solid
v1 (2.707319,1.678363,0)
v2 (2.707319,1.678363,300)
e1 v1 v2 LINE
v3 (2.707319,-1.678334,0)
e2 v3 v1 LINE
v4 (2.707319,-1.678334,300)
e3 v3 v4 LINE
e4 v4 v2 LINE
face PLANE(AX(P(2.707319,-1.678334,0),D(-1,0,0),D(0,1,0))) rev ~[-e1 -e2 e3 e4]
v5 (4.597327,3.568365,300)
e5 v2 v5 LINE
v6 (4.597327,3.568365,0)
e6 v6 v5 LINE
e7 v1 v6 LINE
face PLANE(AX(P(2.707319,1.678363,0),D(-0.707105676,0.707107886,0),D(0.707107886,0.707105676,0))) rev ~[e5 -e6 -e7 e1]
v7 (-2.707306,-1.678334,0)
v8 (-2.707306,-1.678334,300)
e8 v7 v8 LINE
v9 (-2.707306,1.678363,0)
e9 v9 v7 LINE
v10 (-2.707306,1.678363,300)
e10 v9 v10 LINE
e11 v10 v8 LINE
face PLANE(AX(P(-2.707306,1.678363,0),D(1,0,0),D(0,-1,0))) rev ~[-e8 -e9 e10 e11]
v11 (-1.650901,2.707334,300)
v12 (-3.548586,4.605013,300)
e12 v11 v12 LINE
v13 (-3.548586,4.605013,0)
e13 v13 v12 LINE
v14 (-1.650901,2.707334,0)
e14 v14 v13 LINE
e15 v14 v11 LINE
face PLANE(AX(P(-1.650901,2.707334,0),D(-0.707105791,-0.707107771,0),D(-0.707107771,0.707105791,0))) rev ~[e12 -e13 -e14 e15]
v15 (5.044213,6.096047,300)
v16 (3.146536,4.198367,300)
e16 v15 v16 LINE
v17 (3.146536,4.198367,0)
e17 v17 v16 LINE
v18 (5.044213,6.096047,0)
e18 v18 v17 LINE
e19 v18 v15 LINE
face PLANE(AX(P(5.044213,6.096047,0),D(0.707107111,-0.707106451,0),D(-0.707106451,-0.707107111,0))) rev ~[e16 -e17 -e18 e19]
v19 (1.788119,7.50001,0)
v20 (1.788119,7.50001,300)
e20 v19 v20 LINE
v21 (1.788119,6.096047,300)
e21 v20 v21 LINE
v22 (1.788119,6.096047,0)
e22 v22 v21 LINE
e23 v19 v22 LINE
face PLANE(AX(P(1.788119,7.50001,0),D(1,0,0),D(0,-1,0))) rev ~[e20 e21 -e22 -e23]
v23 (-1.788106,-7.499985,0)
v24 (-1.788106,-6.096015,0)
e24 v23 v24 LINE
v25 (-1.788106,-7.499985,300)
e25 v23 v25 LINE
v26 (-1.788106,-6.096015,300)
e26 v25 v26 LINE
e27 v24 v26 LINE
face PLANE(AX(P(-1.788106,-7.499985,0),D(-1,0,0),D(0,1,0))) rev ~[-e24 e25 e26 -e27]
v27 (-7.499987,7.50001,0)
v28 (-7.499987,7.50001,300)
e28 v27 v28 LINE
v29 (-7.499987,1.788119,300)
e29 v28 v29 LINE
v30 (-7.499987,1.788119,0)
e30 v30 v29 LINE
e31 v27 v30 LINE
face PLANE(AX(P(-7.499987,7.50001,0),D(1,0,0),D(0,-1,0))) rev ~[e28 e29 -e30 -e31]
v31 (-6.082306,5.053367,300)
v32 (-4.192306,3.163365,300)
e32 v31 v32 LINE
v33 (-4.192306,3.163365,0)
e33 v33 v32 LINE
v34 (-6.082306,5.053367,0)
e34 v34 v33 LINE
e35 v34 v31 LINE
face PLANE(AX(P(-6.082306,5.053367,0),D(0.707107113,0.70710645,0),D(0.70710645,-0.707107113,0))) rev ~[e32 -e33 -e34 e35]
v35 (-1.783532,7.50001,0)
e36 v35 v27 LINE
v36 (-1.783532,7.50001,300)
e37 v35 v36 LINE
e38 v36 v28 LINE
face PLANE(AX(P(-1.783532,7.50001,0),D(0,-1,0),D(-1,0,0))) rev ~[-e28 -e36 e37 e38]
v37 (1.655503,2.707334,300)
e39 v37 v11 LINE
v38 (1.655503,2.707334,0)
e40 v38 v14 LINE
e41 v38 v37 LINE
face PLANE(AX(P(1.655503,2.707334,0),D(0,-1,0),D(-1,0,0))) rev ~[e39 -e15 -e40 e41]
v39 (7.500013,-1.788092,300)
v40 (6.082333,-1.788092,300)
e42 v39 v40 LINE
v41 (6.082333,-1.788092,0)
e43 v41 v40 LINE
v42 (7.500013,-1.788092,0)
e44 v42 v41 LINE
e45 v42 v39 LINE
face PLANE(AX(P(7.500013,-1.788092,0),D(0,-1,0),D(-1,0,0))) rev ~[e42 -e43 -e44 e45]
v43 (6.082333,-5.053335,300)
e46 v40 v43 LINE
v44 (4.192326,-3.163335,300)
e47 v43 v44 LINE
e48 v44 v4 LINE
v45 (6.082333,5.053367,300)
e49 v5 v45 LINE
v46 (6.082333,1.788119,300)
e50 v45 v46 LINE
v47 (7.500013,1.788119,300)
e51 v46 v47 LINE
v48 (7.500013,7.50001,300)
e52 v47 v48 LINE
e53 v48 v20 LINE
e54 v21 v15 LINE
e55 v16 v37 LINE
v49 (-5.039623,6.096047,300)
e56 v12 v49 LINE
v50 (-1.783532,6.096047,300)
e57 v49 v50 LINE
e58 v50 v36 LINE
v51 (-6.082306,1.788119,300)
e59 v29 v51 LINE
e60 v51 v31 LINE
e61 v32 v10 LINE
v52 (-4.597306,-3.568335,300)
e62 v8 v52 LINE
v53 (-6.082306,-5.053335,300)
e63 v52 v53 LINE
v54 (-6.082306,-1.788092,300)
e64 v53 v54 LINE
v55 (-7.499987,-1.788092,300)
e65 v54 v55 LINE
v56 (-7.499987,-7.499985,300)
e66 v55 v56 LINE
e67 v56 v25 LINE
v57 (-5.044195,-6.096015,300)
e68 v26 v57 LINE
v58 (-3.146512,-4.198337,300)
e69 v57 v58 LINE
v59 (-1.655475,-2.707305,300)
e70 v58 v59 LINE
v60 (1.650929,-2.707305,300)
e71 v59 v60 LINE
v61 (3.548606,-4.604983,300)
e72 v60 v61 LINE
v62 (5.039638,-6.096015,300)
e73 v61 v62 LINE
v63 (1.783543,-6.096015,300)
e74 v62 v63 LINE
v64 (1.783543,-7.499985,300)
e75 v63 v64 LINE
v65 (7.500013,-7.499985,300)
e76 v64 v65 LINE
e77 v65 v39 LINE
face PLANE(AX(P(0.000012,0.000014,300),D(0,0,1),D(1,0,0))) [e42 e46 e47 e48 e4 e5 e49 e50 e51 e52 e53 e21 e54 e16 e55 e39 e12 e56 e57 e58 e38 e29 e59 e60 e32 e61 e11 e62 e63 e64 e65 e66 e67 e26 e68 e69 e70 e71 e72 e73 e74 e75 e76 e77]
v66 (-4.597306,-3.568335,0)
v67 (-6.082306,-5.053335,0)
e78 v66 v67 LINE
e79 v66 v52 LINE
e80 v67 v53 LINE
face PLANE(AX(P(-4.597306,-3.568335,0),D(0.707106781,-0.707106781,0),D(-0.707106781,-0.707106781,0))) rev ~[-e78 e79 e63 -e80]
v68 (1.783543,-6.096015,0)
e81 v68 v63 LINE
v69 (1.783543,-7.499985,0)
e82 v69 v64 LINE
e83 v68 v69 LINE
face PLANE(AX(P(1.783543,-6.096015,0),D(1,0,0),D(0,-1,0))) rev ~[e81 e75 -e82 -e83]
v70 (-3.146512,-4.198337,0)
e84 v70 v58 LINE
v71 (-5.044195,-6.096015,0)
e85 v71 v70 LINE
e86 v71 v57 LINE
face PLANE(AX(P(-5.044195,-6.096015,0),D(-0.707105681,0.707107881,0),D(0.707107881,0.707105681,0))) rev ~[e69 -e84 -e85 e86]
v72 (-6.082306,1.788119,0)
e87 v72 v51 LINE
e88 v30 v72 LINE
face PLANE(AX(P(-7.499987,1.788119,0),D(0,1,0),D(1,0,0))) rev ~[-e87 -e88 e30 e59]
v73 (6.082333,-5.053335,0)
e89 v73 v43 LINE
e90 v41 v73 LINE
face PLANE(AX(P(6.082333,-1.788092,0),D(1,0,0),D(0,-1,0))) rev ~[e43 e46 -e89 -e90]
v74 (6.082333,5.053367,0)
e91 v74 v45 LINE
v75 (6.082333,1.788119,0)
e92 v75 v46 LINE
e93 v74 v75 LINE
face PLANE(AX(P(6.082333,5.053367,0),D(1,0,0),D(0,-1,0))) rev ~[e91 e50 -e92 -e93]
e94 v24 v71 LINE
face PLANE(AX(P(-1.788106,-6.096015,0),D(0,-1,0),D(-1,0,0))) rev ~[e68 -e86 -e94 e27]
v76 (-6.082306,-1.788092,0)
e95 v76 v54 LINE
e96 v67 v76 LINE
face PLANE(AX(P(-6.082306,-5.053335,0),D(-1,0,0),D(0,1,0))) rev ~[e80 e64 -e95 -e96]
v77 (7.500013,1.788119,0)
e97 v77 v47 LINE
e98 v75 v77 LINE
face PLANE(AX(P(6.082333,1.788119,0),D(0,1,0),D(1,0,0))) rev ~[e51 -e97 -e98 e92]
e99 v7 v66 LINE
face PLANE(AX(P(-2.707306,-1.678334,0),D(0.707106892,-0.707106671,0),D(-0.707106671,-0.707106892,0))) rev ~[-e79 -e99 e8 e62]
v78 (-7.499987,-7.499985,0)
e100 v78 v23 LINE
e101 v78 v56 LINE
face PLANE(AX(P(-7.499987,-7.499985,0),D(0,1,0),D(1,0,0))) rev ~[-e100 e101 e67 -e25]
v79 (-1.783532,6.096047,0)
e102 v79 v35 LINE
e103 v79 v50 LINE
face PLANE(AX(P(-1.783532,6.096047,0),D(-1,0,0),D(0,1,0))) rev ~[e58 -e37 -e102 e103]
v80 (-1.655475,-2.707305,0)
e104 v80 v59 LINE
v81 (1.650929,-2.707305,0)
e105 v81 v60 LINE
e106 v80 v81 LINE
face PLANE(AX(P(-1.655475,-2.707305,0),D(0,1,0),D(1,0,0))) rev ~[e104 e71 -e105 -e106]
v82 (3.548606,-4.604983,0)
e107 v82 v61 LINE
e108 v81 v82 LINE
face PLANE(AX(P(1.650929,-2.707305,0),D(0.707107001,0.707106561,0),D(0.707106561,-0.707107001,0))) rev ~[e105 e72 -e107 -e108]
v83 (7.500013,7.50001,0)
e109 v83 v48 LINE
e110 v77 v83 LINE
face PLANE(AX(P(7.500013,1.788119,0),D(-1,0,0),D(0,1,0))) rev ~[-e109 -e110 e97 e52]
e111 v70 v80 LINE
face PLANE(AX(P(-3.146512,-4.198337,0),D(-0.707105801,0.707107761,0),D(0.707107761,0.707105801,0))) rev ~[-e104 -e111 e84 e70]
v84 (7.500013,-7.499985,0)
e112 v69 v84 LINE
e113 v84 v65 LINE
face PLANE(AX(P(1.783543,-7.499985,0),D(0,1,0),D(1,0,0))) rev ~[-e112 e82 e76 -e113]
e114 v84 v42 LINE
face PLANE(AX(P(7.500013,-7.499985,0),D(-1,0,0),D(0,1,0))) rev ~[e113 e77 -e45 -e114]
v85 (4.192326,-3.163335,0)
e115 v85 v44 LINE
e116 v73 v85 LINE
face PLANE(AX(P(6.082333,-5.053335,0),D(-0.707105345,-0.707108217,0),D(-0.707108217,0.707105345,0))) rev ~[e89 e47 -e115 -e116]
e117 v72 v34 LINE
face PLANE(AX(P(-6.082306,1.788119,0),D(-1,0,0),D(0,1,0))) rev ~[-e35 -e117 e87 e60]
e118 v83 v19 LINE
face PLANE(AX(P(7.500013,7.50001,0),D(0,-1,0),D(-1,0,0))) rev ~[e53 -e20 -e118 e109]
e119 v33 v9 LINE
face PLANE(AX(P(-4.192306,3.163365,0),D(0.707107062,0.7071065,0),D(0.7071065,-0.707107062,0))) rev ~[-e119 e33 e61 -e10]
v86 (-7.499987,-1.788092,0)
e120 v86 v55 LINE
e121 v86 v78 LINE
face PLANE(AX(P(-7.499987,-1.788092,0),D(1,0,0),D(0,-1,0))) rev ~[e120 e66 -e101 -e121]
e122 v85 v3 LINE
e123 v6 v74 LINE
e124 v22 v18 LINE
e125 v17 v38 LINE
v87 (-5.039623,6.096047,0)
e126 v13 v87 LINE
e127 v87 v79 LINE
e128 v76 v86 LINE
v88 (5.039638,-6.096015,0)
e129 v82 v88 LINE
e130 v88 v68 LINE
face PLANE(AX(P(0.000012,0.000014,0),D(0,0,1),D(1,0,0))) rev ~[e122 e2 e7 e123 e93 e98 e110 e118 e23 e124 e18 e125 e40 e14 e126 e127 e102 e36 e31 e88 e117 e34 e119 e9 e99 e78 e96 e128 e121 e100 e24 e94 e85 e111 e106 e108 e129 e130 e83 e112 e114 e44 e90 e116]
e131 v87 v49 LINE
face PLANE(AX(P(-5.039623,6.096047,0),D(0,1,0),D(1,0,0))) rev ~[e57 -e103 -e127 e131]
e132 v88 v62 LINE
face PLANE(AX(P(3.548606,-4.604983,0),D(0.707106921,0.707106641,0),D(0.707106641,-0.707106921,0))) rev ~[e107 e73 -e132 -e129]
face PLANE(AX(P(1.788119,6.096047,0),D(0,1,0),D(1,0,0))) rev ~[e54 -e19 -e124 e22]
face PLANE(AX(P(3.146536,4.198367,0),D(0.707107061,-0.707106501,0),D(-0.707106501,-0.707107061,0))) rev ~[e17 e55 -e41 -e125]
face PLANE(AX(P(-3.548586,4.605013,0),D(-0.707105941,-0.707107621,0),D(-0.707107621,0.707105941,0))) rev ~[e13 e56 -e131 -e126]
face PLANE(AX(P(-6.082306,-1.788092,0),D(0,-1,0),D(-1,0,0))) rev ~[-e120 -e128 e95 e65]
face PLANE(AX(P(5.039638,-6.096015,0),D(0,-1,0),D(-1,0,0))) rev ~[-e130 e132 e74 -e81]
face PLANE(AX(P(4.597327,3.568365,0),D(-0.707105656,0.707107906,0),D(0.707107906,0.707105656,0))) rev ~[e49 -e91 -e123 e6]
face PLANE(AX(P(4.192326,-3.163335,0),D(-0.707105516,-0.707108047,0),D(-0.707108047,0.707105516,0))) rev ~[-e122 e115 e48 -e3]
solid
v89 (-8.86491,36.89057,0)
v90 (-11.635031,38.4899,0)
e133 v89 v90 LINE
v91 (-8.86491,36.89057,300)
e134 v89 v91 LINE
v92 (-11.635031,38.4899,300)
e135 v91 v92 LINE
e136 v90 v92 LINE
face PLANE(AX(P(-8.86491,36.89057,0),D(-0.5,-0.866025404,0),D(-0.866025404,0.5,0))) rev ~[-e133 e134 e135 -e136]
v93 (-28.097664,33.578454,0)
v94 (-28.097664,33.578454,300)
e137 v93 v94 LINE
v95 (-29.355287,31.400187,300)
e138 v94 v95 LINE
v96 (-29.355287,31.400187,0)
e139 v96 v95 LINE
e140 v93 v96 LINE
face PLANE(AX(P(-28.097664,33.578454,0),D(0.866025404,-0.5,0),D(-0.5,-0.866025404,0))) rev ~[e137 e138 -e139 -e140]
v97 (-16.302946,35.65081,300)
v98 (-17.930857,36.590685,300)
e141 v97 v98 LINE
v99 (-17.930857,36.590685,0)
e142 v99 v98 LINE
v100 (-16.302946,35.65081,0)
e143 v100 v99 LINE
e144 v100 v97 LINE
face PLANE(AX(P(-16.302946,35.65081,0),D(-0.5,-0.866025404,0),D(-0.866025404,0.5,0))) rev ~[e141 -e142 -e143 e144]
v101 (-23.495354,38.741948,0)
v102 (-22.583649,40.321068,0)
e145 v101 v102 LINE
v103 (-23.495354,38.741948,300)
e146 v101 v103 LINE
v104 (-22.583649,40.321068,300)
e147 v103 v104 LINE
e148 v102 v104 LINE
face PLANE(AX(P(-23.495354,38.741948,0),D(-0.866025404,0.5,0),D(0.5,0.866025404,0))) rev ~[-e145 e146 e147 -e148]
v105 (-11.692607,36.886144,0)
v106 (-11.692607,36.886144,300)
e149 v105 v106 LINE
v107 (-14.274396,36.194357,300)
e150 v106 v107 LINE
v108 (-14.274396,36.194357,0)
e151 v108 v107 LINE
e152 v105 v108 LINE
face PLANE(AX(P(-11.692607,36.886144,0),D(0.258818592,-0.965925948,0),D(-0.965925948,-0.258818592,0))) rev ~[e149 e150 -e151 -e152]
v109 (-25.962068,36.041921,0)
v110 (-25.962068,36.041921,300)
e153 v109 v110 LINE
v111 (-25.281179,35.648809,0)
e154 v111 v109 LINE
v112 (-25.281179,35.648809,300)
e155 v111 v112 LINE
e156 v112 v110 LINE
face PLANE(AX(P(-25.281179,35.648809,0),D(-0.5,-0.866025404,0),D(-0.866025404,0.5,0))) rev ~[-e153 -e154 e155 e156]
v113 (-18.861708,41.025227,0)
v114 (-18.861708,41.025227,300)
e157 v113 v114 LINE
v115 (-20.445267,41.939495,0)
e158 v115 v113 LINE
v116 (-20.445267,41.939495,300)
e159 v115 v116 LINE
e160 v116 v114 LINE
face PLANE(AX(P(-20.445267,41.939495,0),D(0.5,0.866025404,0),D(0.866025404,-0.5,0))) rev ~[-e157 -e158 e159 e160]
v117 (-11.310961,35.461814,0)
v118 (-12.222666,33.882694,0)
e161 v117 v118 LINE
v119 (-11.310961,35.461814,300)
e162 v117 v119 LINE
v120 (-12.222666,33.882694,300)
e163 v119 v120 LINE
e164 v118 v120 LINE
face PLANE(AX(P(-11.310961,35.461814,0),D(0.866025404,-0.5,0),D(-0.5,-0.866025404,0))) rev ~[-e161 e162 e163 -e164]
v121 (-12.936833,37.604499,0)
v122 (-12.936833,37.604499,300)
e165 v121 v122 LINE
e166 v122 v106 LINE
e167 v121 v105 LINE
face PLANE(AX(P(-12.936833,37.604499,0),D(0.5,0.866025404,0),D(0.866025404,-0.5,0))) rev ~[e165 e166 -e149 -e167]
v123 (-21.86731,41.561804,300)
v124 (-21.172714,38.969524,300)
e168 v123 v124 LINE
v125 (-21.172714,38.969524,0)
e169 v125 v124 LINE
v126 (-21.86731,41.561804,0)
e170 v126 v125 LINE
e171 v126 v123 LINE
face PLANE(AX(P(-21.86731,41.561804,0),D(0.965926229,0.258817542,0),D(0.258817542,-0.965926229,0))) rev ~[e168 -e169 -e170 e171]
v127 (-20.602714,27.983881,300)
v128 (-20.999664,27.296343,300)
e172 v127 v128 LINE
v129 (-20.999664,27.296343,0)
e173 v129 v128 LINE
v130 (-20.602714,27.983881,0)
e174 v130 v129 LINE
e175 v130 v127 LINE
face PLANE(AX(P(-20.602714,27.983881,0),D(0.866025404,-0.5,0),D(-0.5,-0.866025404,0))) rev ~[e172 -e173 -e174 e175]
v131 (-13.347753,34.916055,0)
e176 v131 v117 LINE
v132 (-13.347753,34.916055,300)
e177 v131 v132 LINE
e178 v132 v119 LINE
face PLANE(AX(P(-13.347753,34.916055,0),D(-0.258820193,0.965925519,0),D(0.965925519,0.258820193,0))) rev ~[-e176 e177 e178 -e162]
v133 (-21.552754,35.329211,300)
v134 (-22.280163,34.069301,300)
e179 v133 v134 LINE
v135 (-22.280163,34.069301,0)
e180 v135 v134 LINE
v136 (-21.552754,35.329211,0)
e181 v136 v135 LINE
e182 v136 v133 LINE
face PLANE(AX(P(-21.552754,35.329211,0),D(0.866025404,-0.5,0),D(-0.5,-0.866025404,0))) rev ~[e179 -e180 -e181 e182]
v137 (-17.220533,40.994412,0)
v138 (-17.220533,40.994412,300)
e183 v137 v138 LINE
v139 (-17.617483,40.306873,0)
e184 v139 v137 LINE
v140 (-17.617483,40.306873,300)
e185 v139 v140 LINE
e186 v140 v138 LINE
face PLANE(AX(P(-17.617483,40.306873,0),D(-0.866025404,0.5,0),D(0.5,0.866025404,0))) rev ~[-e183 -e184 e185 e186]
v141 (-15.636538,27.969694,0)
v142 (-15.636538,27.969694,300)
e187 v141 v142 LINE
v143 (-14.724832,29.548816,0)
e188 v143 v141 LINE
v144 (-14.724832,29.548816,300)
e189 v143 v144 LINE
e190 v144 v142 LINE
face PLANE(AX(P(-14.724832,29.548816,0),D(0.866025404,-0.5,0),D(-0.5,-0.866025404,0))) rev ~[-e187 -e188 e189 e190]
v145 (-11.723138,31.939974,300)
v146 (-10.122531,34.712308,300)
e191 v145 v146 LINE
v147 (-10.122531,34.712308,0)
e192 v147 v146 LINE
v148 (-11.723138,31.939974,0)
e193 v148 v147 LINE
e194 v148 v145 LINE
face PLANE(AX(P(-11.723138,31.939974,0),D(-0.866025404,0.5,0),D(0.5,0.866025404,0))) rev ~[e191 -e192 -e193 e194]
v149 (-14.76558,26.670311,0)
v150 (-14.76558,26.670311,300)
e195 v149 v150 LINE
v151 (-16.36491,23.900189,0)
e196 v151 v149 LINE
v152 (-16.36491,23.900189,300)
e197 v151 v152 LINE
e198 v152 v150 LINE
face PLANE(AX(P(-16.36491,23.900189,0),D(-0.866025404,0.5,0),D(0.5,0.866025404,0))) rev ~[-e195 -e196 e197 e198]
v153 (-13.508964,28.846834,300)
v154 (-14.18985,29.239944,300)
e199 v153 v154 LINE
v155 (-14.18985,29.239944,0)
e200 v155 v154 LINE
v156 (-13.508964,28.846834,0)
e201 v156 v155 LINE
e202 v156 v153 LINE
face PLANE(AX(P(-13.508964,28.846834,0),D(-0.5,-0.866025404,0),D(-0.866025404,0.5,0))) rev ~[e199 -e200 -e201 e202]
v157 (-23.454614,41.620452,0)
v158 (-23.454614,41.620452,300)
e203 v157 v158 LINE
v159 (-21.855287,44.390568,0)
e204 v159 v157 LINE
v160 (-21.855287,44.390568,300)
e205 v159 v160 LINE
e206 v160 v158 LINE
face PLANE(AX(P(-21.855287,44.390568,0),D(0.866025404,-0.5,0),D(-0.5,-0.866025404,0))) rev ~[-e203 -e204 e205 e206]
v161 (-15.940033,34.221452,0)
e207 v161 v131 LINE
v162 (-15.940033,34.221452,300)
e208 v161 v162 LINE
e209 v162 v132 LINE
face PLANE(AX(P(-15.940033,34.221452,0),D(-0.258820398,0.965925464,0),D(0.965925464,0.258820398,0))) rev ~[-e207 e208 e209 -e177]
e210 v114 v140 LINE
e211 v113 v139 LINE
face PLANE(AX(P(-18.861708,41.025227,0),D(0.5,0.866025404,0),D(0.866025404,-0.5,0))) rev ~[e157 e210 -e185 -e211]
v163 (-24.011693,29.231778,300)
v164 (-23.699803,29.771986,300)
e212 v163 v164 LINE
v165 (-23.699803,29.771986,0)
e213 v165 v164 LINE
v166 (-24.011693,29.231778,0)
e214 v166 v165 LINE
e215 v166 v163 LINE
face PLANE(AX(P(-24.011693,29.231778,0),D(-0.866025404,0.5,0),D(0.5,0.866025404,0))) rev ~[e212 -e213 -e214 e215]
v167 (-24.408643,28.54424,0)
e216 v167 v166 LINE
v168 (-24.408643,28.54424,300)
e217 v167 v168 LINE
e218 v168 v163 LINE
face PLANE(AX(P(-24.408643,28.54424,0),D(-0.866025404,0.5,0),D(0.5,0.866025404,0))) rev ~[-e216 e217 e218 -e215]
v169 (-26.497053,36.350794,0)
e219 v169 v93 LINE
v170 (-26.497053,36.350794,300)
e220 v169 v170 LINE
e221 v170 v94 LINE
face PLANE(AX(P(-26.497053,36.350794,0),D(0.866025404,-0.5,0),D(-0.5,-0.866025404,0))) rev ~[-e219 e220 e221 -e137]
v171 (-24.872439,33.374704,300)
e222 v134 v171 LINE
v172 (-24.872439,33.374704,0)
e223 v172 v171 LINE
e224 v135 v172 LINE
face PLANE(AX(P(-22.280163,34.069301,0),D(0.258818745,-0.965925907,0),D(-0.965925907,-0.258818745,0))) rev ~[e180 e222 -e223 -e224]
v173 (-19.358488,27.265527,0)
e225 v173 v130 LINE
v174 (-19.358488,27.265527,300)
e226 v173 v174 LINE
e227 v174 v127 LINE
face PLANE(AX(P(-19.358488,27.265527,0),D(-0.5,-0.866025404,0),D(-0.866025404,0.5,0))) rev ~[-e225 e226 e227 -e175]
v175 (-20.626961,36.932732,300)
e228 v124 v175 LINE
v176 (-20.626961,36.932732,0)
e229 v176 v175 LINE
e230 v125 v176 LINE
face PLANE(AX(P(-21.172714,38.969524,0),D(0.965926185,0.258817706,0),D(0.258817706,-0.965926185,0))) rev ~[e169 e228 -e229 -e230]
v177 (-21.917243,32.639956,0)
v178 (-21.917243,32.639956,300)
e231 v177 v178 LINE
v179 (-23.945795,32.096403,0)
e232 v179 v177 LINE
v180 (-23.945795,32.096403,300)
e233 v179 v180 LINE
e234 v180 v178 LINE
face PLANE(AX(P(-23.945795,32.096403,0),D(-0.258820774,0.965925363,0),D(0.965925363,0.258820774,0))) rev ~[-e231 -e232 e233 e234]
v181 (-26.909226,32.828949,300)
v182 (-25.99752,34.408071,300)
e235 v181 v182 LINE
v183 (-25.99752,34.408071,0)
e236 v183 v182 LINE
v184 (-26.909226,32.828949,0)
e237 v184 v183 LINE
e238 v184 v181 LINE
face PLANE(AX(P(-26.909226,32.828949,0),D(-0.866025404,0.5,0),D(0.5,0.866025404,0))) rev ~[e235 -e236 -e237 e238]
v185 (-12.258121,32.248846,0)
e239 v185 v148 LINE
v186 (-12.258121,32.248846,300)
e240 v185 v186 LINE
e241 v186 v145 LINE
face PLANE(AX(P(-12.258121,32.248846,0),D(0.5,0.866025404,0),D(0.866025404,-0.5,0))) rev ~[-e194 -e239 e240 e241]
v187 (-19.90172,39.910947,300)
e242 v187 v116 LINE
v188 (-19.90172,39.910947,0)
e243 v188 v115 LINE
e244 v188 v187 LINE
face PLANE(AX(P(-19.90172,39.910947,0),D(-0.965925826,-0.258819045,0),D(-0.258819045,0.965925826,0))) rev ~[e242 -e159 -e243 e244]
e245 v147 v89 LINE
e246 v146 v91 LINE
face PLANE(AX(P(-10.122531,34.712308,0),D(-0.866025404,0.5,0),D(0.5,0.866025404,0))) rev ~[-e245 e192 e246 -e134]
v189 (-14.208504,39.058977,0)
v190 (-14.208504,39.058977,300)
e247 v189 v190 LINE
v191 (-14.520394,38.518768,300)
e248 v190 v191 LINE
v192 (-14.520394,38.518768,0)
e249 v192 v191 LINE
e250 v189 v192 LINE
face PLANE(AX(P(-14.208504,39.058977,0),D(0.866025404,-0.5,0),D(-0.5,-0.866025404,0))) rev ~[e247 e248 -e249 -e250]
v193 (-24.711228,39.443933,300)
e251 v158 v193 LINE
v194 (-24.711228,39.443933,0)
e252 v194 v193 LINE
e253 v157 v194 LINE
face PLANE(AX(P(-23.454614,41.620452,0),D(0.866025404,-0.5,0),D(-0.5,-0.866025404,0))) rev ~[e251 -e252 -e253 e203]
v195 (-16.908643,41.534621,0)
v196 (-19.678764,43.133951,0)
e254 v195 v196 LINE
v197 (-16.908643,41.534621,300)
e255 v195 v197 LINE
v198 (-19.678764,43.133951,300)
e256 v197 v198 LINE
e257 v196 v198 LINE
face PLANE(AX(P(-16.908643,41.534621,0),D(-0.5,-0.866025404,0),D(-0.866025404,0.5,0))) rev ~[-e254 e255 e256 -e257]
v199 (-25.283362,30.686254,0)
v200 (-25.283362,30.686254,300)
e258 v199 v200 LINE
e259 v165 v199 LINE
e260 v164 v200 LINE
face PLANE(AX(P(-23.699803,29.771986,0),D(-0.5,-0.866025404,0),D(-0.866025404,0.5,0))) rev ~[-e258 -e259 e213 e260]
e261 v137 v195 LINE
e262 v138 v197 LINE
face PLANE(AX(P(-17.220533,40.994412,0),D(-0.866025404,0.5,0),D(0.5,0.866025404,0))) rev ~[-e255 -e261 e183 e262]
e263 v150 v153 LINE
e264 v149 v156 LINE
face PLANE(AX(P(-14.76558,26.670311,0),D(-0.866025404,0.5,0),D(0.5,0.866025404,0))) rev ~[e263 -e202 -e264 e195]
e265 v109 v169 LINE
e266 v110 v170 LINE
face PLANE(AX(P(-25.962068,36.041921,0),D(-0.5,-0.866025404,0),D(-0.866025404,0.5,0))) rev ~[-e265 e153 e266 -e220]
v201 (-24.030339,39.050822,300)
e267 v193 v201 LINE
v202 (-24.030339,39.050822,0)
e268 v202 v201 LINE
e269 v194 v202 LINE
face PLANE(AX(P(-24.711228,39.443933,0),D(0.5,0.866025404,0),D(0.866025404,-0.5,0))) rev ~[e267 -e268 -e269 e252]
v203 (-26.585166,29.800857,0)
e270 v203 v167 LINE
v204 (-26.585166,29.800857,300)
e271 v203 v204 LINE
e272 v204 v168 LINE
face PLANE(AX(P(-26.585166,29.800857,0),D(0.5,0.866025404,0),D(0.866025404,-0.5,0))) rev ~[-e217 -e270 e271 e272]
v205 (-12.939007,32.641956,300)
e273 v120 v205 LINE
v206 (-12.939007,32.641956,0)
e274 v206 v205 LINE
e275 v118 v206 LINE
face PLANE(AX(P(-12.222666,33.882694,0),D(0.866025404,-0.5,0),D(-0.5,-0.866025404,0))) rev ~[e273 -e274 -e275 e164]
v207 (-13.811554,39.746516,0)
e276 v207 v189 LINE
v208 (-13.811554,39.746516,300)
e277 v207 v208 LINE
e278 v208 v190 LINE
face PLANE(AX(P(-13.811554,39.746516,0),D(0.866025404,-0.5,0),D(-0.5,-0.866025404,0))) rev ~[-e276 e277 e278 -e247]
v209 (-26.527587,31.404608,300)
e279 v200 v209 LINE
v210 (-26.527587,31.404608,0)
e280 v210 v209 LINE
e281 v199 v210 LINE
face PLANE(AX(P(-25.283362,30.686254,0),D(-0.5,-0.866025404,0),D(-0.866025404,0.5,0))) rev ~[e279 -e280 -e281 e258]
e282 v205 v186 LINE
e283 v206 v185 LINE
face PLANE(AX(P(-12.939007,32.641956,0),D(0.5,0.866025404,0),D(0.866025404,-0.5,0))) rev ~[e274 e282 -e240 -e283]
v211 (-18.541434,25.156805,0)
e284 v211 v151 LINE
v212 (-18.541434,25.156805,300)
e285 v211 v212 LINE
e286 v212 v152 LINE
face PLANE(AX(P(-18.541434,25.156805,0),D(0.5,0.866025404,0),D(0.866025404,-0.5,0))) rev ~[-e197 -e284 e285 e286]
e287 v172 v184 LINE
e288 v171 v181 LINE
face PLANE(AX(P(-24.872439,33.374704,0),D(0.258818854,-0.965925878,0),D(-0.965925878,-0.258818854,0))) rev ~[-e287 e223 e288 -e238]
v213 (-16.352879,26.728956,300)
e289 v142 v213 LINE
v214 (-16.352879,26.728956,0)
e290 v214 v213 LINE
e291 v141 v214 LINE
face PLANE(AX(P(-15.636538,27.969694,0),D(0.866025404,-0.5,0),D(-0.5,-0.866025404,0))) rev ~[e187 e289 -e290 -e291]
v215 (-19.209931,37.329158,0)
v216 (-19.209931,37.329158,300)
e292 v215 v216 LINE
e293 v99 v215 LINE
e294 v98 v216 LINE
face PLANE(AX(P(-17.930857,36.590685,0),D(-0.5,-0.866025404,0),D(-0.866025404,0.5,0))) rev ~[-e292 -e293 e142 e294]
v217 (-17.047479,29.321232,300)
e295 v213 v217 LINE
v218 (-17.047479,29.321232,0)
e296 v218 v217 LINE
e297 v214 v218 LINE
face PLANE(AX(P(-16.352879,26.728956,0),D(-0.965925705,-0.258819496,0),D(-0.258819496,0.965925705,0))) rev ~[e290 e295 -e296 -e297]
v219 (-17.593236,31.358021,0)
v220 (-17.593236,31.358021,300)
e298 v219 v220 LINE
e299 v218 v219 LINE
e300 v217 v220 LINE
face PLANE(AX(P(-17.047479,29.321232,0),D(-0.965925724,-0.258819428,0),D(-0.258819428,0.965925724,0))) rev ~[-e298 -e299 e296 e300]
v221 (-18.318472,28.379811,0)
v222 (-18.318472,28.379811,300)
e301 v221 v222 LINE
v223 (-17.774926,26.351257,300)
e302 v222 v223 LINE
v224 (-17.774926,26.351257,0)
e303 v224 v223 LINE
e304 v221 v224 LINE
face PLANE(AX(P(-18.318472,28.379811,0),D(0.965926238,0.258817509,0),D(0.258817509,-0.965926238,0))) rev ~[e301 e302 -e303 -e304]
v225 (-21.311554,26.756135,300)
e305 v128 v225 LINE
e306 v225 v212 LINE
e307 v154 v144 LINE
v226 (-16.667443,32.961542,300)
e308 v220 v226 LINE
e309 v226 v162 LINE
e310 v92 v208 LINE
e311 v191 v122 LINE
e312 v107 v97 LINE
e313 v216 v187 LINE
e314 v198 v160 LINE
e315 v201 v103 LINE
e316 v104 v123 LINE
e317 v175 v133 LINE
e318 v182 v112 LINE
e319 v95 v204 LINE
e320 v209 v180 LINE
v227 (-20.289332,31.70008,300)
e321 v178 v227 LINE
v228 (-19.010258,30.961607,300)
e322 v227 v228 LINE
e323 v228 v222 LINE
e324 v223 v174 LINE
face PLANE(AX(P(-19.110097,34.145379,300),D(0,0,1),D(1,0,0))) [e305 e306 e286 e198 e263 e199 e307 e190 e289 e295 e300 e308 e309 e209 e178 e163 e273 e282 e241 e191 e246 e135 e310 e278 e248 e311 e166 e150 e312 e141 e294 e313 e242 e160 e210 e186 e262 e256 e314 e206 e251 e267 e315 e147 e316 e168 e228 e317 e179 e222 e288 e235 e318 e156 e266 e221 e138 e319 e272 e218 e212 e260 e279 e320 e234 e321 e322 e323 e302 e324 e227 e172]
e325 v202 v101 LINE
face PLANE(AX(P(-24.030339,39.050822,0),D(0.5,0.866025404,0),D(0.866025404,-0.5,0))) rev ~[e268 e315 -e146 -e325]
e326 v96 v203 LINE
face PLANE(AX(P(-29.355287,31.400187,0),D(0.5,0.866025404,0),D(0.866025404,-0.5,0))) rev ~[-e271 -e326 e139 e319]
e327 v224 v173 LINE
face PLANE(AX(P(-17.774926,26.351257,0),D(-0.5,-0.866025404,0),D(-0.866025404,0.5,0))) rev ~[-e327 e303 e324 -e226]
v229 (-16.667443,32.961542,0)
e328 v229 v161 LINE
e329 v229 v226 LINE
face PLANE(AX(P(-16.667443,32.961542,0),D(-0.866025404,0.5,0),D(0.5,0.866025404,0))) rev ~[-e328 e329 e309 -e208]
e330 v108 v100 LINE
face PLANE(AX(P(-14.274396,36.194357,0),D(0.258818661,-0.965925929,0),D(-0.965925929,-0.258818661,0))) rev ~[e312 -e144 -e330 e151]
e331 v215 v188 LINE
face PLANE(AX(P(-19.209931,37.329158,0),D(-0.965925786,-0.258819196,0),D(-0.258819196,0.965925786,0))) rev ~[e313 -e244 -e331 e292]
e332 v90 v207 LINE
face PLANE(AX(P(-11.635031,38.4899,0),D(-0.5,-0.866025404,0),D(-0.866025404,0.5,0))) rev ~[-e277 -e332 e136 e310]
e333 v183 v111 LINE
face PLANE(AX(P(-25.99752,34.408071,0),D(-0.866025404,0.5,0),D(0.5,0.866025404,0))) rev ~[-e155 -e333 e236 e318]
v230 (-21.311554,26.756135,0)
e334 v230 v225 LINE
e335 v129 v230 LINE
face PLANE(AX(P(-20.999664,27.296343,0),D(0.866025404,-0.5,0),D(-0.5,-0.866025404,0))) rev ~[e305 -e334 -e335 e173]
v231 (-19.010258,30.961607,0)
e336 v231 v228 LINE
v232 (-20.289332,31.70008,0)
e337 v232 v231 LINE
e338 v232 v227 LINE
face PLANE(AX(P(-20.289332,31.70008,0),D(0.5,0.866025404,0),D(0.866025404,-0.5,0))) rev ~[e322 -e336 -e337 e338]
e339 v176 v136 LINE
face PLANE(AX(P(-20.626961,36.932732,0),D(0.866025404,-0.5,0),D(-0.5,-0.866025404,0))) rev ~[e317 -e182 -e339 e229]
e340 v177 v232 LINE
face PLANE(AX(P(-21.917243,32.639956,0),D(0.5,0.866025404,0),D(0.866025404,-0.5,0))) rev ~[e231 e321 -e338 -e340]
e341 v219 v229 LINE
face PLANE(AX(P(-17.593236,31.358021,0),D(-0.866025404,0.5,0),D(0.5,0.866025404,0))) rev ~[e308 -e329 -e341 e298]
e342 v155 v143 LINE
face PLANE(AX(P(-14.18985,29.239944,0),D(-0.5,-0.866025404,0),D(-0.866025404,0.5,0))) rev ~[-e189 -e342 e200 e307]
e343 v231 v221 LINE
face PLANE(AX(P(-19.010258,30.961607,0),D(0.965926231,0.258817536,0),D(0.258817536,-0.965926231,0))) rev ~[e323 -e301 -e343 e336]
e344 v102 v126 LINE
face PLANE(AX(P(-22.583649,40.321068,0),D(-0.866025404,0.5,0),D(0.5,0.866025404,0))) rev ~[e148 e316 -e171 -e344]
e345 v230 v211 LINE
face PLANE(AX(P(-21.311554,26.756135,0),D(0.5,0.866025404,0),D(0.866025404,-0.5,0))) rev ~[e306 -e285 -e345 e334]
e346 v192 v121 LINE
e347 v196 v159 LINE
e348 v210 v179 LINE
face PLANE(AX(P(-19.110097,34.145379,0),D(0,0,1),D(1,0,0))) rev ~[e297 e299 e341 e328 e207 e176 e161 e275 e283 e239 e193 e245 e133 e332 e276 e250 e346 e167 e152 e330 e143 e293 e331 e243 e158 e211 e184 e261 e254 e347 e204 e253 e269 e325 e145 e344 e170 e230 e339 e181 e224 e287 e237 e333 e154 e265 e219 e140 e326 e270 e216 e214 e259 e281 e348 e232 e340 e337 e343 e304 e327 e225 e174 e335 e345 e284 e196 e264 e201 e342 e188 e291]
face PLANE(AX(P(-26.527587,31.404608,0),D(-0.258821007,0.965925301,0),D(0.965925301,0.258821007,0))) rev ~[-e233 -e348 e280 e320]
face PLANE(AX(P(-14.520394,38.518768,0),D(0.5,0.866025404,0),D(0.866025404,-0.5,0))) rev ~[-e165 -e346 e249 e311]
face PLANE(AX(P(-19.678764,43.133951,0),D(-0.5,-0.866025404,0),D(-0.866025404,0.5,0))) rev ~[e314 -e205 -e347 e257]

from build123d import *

# Parameters (mm, degrees)
F1_DEPTH = 300
F3_DEPTH = 300


with BuildPart() as f1:
    # F0 (on Top) → F1 (new body)
    with BuildSketch(Plane.XY):
        Polygon((4.984765951, -7.4999849378), (7.5000127, -7.4999849378), (7.5000127, -4.3013247407), (7.5000127, -1.7880917708), (6.7061124626, -1.7880917708), (6.0823334515, -1.7880917708), (6.0823334515, -3.6166280251), (6.0823334515, -5.0533354194), (4.1923255558, -3.1633352009), (2.7073193521, -1.6783343121), (2.7073193521, 0.2014163021), (2.7073193521, 1.6783632554), (4.5973272478, 3.5683652456), (6.0823334515, 5.0533667249), (6.0823334515, 3.2248275179), (6.0823334515, 1.7881189425), (6.8762336889, 1.7881189425), (7.5000127, 1.7881189425), (7.5000127, 4.9867779585), (7.5000127, 7.5000103378), (4.3013519123, 7.5000103378), (1.7881189425, 7.5000103378), (1.7881189425, 6.7137908075), (1.7881189425, 6.0960466378), (3.6115321662, 6.0960466378), (5.0442131834, 6.0960466378), (3.1465358011, 4.1983674838), (1.6555030237, 2.7073335253), (-0.1960830291, 2.7073335253), (-1.6509014435, 2.7073335253), (-3.5485859125, 4.6050126793), (-5.0396234142, 6.0960466378), (-3.2162119622, 6.0960466378), (-1.7835315355, 6.0960466378), (-1.7835315355, 6.8822661681), (-1.7835315355, 7.5000103378), (-4.9847470471, 7.5000103378), (-7.4999873, 7.5000103378), (-7.4999873, 4.3013507312), (-7.4999873, 1.7881189425), (-6.7060858815, 1.7881189425), (-6.0823062799, 1.7881189425), (-6.0823062799, 3.6166575589), (-6.0823062799, 5.0533667249), (-4.1923060614, 3.1633647348), (-2.7073057631, 1.6783632554), (-2.7073057631, -0.2013873588), (-2.7073057631, -1.6783343121), (-4.5973059816, -3.5683351212), (-6.0823062799, -5.0533354194), (-6.0823062799, -3.2247991652), (-6.0823062799, -1.7880917708), (-6.8762076984, -1.7880917708), (-7.4999873, -1.7880917708), (-7.4999873, -4.986751968), (-7.4999873, -7.4999849378), (-4.3013335989, -7.4999849378), (-1.7881059441, -7.4999849378), (-1.7881059441, -6.7137618642), (-1.7881059441, -6.0960147417), (-3.6115162151, -6.0960147417), (-5.0441954606, -6.0960147417), (-3.1465121727, -4.1983373594), (-1.6554752615, -2.707304582), (0.1961113819, -2.707304582), (1.6509292057, -2.707304582), (3.5486059975, -4.6049825549), (5.0396375938, -6.0960147417), (3.2162249606, -6.0960147417), (1.7835433528, -6.0960147417), (1.7835433528, -6.8822378153), (1.7835433528, -7.4999849378), align=None)
    extrude(amount=F1_DEPTH)


with BuildPart() as f3:
    # F2 (on Top) → F3 (new body)
    with BuildSketch(Plane.XY):
        Polygon((-28.0976640869, 33.5784542243), (-29.3552874614, 31.4001866429), (-26.5851664726, 29.8008565443), (-24.4086428751, 28.5442400594), (-24.0116927564, 29.2317778331), (-23.6998032509, 29.771986303), (-25.2833620988, 30.6862544301), (-26.5275872001, 31.4046081273), (-23.9457950499, 32.0964028691), (-21.9172434537, 32.6399555219), (-20.289331669, 31.7000802148), (-19.0102580873, 30.9616067381), (-18.3184722985, 28.379810892), (-17.7749263946, 26.3512570551), (-19.3584877997, 27.2655266586), (-20.6027139238, 27.9838809464), (-20.9996640426, 27.2963431727), (-21.3115535481, 26.7561347028), (-18.5414335822, 25.1568051947), (-16.3649104961, 23.9001890051), (-14.7655801023, 26.6703105053), (-13.5089636174, 28.8468341028), (-14.1898497035, 29.239943868), (-14.7248318476, 29.5488159528), (-15.6365384594, 27.9696937795), (-16.352878968, 26.7289556231), (-17.0474786324, 29.3212320214), (-17.5932355297, 31.3580212637), (-16.6674425033, 32.9615418227), (-15.9400332961, 34.2214515275), (-13.347752706, 34.916054909), (-11.3109606692, 35.4618142843), (-12.2226663952, 33.8826936452), (-12.9390066085, 32.6419560002), (-12.2581205224, 32.2488462351), (-11.7231383783, 31.9399741502), (-10.1225306226, 34.7123081062), (-8.8649104961, 36.8905700619), (-11.6350309734, 38.4898998652), (-13.8115535481, 39.7465157595), (-14.2085042574, 39.058976963), (-14.5203940582, 38.5187679816), (-12.9368331645, 37.6044986734), (-11.6926065289, 36.8861440904), (-14.2743963749, 36.1943568831), (-16.3029455297, 35.6508096399), (-17.9308573144, 36.590684947), (-19.2099308961, 37.3291584237), (-19.9017195006, 39.9109470306), (-20.4452673344, 41.9394951626), (-18.8617084865, 41.0252270355), (-17.6174833852, 40.3068733383), (-17.2205326759, 40.9944121348), (-16.9086428751, 41.5346211162), (-19.6787638639, 43.1339512148), (-21.8552874614, 44.3905676997), (-23.4546143119, 41.6204523366), (-24.7112281394, 39.443933342), (-24.0303389846, 39.0508218052), (-23.4953542834, 38.741948244), (-22.5836491479, 40.3210678602), (-21.8673095252, 41.5618044823), (-21.1727143478, 38.9695238555), (-20.6269605403, 36.9327316237), (-21.552753862, 35.3292105533), (-22.280162774, 34.0693013599), (-24.8724385026, 33.3747040365), (-26.9092260524, 32.8289488897), (-25.9975197358, 34.4080705516), (-25.2811789319, 35.6488092195), (-25.9620680866, 36.0419207562), (-26.4970527878, 36.3507943175), align=None)
    extrude(amount=F3_DEPTH)


solid = Compound([f1.part, f3.part])
